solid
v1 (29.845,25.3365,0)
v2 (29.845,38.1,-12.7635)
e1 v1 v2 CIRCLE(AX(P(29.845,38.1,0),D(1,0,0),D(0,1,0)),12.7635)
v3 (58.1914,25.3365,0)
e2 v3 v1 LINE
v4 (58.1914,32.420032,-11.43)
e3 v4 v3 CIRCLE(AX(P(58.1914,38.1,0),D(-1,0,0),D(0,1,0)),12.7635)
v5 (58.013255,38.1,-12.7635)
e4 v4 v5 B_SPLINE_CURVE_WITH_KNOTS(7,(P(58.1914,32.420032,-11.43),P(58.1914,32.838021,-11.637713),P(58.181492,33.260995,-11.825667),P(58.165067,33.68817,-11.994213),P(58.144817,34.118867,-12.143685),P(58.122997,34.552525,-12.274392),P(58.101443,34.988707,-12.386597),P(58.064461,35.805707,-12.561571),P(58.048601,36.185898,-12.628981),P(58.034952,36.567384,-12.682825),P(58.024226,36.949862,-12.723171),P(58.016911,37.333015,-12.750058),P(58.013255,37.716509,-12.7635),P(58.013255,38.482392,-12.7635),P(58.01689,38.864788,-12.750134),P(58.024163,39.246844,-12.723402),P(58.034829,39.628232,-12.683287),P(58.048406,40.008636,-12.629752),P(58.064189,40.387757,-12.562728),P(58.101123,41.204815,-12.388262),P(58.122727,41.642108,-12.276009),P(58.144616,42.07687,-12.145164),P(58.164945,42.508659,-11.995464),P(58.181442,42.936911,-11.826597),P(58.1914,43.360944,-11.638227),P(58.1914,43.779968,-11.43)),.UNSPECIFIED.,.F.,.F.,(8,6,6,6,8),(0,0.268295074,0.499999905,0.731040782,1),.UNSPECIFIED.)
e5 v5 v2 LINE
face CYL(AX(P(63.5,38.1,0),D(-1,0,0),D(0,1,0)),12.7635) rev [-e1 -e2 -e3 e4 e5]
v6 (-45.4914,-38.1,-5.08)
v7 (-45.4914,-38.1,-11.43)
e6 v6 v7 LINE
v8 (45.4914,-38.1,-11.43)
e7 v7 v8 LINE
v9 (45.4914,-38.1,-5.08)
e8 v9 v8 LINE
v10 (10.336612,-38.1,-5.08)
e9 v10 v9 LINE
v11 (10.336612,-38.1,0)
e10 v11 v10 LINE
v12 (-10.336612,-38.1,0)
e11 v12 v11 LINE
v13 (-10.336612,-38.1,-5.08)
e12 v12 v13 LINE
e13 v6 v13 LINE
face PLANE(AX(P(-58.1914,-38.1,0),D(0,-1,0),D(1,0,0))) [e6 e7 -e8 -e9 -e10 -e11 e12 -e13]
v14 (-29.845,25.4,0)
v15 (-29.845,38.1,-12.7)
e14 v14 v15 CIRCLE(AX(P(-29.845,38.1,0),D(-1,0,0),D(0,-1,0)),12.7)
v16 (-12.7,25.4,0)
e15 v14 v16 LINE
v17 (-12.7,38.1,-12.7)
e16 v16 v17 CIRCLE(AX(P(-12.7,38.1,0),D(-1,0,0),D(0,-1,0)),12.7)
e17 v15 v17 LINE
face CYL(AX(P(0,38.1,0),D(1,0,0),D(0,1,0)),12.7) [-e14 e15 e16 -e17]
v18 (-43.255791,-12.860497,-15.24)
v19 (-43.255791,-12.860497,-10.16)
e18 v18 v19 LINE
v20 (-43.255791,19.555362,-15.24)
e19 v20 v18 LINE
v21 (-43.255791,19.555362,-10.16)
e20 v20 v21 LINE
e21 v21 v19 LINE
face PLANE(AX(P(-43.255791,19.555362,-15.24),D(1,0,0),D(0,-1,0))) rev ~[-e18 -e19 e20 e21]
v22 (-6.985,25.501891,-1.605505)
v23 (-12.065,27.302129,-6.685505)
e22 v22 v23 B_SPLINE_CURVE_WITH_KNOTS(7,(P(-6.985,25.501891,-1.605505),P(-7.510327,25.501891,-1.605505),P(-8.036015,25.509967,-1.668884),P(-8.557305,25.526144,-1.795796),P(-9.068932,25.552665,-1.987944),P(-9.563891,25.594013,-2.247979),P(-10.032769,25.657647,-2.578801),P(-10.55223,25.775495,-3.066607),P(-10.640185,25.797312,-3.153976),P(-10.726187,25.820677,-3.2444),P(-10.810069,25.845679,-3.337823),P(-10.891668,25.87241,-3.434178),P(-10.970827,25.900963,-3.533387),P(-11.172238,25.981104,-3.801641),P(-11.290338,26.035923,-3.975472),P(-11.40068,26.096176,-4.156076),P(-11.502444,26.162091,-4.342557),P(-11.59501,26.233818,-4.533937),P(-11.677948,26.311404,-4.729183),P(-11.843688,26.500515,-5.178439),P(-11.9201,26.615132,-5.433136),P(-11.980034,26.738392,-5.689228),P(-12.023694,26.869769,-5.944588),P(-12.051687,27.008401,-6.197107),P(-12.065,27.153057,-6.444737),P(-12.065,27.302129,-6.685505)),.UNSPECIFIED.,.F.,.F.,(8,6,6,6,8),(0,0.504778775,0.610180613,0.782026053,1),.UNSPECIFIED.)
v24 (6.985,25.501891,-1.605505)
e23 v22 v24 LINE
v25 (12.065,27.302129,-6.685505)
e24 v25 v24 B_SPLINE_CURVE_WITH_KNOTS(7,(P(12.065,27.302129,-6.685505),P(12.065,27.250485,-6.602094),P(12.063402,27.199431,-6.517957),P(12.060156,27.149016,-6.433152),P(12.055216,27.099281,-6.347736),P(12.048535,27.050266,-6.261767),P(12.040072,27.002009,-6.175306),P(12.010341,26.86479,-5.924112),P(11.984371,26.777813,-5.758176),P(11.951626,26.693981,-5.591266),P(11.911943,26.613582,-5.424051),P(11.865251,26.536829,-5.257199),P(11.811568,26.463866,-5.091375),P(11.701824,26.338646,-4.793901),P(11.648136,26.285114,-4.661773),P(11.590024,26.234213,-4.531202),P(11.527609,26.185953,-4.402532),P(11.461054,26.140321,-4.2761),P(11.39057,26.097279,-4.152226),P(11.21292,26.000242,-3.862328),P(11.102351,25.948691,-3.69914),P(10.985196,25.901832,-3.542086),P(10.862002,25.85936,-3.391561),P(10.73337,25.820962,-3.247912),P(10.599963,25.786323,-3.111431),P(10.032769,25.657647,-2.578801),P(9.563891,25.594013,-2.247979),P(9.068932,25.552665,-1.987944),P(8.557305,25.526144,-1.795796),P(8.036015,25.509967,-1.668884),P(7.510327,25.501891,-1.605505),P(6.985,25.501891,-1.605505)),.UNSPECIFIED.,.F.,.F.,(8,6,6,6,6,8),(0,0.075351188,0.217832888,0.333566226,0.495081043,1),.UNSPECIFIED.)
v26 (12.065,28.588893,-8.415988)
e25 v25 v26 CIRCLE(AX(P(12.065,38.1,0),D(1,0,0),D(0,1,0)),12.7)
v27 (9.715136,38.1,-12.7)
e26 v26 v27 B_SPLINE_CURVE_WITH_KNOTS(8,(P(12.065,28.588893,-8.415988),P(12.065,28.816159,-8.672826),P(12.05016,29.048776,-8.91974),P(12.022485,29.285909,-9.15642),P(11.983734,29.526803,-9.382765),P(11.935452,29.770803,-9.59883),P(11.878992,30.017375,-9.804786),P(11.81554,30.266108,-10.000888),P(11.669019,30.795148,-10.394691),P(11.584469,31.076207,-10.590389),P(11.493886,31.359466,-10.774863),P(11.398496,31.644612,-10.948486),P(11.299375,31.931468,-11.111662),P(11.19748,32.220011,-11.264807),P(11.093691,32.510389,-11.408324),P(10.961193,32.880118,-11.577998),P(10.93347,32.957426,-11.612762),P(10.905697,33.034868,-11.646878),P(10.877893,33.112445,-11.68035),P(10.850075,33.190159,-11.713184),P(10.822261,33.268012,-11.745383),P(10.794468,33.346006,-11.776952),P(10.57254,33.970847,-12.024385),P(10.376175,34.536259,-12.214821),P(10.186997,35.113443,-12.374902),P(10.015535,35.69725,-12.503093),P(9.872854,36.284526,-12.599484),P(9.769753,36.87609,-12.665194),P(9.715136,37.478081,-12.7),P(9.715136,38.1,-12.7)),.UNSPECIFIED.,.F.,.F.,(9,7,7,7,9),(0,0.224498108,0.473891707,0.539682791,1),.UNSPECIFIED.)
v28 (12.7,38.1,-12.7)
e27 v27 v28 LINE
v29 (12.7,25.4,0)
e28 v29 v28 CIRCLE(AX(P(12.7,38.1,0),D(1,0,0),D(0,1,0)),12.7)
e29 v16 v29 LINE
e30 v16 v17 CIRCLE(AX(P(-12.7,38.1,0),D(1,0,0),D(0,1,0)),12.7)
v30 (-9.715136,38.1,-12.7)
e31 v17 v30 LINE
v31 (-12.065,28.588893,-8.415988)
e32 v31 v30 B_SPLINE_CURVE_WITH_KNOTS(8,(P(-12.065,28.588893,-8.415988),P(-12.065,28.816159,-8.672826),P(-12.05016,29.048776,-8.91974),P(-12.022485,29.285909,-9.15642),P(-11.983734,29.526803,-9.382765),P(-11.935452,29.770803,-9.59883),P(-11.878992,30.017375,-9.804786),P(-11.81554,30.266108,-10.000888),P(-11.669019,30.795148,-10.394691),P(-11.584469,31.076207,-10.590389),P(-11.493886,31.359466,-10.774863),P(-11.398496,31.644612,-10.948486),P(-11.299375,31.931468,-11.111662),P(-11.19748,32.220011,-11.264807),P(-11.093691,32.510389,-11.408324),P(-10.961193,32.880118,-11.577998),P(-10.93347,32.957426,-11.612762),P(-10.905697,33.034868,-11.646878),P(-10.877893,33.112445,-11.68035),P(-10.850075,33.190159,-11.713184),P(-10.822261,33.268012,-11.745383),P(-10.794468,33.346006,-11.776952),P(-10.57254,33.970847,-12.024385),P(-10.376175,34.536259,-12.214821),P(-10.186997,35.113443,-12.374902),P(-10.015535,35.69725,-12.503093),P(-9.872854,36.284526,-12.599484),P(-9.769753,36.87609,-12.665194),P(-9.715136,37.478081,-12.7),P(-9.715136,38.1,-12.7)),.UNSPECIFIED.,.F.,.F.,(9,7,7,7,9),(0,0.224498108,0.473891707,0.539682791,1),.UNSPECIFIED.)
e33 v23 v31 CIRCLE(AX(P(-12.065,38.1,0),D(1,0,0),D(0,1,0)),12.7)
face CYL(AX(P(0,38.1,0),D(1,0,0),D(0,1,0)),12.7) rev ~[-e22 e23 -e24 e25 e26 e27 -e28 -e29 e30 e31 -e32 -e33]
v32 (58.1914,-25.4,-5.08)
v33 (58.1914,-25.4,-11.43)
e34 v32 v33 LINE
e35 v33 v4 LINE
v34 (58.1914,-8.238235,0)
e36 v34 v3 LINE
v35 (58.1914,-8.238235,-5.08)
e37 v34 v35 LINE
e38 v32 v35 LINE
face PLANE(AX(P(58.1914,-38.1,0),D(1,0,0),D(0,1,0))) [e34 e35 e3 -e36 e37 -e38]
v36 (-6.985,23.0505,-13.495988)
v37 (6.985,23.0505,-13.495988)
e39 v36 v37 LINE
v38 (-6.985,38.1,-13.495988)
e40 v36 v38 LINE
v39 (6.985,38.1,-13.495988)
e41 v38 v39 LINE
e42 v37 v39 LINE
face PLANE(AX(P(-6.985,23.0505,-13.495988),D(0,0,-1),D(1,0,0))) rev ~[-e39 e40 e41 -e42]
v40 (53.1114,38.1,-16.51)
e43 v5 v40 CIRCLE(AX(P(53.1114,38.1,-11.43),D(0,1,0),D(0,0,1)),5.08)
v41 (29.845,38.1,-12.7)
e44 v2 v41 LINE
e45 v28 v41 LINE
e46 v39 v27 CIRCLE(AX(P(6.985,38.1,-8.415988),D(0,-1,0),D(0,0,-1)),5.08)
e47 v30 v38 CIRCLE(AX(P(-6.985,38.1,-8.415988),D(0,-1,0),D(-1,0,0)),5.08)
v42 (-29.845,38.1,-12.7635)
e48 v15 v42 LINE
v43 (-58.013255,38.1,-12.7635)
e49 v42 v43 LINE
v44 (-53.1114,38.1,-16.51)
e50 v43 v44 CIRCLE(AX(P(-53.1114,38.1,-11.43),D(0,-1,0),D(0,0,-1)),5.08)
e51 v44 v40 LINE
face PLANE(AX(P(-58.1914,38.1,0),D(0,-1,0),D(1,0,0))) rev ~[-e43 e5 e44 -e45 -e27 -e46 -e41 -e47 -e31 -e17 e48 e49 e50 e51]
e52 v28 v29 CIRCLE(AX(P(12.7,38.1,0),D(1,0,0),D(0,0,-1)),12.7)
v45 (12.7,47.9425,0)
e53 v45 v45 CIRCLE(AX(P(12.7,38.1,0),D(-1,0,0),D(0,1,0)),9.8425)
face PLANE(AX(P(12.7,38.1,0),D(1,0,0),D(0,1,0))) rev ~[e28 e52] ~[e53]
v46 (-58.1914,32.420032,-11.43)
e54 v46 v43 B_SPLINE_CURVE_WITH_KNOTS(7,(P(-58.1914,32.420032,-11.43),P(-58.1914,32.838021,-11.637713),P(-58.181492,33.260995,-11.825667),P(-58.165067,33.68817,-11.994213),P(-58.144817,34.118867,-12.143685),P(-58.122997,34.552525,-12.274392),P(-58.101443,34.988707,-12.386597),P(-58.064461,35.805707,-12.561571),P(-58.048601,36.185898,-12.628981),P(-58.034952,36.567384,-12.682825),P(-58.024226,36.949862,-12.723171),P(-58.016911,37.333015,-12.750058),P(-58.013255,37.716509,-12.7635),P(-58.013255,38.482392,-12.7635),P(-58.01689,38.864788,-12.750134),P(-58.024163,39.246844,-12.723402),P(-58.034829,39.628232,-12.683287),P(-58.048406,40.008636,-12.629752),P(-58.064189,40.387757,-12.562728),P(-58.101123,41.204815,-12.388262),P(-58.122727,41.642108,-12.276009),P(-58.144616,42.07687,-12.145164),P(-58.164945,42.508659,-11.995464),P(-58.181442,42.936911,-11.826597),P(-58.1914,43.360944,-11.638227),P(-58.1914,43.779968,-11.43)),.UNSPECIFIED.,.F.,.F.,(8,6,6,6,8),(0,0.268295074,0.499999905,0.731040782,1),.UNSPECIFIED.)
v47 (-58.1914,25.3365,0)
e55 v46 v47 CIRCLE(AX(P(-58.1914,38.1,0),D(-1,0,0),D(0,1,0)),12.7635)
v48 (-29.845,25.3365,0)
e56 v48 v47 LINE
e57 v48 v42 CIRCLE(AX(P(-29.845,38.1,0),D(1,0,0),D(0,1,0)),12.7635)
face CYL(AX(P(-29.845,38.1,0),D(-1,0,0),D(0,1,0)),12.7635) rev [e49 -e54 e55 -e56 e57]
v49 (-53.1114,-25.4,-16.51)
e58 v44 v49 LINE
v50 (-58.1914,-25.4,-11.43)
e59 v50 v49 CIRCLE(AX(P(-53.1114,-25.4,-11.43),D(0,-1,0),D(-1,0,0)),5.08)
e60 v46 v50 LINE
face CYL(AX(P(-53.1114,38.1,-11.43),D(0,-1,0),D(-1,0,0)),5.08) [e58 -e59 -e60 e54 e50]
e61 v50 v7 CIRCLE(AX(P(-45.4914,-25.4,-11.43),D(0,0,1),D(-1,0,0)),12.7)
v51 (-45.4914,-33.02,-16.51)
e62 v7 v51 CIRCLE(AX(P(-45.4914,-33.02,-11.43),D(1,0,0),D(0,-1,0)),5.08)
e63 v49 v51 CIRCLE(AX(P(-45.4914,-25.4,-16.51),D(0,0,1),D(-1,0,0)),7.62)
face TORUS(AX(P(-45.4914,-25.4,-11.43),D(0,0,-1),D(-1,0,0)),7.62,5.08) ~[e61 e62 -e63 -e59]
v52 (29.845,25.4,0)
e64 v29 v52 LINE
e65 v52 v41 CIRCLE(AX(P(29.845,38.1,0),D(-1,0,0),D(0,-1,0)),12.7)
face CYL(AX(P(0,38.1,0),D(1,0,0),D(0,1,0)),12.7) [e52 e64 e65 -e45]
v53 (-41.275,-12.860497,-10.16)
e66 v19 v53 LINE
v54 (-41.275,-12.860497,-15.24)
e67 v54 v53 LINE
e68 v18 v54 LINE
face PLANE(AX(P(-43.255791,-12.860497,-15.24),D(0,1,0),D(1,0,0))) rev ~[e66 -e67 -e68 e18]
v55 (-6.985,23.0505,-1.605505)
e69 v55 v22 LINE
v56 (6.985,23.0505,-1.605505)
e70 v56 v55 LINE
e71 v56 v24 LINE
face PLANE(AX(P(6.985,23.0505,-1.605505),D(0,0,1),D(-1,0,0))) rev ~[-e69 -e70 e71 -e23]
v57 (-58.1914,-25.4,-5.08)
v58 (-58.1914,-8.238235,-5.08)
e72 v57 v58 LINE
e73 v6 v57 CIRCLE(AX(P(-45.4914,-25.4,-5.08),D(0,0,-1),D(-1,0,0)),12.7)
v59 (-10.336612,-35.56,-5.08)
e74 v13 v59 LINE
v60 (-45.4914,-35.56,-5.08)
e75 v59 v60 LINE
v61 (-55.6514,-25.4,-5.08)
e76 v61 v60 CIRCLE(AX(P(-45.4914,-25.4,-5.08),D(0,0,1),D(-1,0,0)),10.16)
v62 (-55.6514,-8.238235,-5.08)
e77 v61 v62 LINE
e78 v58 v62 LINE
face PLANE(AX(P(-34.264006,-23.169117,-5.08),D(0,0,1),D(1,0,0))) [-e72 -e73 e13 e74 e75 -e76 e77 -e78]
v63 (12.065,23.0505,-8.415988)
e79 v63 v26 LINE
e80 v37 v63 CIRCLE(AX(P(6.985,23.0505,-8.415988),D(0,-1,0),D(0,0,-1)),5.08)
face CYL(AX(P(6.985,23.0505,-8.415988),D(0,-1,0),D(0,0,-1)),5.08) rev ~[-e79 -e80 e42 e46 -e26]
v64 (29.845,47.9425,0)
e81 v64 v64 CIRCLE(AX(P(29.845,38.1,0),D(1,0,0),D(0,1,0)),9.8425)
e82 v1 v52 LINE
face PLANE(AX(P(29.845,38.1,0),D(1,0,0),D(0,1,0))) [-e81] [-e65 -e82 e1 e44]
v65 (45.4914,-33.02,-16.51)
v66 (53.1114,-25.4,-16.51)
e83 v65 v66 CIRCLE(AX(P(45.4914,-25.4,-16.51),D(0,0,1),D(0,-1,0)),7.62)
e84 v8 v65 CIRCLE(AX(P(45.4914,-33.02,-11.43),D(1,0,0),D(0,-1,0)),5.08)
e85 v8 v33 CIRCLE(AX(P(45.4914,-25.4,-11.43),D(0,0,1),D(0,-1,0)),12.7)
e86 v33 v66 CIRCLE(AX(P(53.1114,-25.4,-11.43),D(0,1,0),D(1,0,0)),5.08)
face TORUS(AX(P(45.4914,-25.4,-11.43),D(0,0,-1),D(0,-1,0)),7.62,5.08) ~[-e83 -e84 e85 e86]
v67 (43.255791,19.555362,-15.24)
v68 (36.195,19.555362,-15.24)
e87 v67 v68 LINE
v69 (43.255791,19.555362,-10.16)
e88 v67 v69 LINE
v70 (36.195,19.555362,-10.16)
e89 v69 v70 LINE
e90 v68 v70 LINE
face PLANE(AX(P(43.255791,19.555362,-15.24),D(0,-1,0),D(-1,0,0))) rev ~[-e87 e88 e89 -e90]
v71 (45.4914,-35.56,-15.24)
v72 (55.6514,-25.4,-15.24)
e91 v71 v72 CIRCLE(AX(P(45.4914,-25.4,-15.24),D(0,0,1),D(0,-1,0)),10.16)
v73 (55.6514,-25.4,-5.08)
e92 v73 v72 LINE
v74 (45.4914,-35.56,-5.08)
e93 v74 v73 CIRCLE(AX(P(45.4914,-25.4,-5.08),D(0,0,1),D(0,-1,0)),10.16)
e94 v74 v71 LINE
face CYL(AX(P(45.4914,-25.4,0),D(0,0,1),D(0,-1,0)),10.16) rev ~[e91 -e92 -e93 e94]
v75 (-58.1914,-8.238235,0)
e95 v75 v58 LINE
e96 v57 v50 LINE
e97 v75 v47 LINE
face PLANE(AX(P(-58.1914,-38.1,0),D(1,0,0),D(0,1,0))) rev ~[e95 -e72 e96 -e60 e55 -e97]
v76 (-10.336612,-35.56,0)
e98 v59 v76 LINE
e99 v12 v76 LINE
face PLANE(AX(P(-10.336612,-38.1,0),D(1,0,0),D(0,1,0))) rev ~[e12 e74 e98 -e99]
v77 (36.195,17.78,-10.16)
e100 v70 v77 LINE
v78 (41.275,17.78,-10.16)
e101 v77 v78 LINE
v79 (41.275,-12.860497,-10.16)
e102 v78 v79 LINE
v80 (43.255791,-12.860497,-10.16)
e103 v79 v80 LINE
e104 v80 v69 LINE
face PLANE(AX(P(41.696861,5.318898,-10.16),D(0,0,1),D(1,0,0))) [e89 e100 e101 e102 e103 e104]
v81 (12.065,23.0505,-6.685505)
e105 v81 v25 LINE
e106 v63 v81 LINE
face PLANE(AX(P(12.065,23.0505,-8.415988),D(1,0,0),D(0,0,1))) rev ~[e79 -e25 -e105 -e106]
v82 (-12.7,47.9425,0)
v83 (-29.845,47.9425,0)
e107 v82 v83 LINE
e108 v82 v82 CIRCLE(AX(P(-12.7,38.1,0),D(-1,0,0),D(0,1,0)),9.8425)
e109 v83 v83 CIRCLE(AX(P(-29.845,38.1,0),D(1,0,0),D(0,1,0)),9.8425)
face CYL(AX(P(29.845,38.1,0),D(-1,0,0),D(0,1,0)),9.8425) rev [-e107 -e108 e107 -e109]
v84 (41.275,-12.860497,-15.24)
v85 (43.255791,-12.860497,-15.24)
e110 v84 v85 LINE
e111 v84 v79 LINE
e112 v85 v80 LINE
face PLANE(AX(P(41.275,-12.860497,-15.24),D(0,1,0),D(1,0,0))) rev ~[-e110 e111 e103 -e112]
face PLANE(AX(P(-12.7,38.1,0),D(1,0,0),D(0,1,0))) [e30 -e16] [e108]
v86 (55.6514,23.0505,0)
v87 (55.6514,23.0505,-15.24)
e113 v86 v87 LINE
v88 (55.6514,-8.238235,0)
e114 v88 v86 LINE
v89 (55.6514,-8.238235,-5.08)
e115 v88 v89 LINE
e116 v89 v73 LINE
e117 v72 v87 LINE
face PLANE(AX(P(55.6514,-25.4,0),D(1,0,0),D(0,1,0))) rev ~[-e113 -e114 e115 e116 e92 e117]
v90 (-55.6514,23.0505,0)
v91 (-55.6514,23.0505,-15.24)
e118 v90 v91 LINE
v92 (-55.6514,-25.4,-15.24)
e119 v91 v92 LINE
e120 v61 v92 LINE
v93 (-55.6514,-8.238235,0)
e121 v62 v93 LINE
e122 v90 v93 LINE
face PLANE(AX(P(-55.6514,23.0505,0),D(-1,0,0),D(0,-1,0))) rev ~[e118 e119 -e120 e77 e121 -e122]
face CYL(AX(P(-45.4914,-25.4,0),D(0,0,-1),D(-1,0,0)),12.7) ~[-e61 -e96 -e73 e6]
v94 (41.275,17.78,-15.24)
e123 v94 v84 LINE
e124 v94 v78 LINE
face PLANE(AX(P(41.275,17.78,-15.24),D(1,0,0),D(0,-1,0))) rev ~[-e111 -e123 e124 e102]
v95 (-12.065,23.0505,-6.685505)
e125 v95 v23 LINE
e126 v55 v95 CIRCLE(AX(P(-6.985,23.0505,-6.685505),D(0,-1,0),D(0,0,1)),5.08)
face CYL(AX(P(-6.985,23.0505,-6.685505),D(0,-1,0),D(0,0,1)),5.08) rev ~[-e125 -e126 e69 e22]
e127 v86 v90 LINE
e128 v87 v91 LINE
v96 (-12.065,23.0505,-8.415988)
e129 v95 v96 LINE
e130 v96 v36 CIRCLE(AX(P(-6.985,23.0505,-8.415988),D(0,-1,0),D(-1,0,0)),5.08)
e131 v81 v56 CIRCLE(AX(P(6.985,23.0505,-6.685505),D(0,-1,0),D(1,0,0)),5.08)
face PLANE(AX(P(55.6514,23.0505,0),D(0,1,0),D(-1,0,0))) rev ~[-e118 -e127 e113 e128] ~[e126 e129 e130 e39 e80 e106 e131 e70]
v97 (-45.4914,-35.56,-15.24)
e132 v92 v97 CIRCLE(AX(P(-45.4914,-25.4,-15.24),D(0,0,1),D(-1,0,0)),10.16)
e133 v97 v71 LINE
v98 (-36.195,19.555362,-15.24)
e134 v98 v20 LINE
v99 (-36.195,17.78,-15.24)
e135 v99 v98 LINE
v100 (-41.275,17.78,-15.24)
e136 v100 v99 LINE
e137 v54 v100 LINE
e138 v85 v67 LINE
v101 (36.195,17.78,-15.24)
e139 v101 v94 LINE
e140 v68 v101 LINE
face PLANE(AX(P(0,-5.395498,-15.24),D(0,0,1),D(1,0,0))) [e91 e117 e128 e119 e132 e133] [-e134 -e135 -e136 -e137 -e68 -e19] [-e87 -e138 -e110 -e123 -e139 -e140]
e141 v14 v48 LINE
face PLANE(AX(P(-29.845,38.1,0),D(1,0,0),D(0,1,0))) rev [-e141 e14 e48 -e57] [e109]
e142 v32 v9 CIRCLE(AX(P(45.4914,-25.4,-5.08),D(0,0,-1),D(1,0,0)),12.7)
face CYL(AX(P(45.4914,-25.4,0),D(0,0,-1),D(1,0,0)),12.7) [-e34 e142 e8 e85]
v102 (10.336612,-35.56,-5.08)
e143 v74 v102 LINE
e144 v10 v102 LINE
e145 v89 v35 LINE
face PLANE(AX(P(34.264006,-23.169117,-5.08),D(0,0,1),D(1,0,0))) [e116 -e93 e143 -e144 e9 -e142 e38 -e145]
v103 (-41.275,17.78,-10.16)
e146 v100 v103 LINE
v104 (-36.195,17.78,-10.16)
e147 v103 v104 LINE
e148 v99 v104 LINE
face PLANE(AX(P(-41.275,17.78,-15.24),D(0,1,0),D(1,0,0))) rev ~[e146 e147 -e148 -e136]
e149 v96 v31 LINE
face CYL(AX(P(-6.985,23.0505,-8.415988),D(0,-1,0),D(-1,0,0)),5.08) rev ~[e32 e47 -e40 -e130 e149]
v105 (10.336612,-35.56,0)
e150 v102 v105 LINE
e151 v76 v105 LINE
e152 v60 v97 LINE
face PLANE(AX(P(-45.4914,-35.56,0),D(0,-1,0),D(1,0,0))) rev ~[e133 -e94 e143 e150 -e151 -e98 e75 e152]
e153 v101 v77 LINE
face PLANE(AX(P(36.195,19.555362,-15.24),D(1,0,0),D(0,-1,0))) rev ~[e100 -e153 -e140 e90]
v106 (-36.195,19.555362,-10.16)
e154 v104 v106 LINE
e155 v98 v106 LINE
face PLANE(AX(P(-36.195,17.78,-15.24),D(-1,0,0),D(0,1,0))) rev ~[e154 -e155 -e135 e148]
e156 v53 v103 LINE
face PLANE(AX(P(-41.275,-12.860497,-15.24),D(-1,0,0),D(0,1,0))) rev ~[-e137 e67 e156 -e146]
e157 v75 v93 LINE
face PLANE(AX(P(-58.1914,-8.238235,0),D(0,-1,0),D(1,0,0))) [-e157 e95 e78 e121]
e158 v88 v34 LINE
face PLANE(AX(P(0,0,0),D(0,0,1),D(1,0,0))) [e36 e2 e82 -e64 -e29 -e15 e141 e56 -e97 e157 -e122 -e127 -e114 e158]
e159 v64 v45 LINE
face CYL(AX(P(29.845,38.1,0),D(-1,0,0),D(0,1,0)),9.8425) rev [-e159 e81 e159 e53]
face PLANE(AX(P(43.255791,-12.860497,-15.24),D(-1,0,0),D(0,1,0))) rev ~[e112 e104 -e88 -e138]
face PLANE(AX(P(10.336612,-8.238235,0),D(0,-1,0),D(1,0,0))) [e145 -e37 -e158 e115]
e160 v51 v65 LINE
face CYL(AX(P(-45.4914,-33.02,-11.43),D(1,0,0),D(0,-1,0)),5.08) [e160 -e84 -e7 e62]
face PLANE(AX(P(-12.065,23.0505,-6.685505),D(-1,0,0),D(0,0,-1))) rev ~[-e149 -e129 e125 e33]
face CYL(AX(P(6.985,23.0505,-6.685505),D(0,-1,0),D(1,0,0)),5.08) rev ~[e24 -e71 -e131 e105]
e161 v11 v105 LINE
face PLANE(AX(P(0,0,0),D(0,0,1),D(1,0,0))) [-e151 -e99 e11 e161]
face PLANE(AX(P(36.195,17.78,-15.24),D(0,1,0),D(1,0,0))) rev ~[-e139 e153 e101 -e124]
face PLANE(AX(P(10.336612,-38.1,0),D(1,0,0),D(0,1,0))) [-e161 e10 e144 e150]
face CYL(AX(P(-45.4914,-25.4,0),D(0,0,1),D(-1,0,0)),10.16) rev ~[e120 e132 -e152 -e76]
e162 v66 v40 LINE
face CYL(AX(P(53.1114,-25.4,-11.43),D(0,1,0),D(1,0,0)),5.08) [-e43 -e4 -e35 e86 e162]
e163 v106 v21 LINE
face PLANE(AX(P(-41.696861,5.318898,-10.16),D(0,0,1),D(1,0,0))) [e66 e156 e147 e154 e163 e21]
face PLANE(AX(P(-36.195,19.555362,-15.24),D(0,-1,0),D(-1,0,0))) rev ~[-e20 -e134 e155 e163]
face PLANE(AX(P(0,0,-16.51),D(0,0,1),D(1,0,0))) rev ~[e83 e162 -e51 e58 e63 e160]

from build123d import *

# Parameters (mm, degrees)
F0_W      = 116.3828
F0_H      = 76.2
F1_DEPTH  = 16.51
F2_R      = 12.7
F3_DEPTH  = 63.5
F4_R      = 12.7
F7_R      = 5.08
F9_DEPTH  = 15.24
F10_R     = 12.7
F11_DEPTH = 12.7
F13_DEPTH = 25.4
F15_DEPTH = 5.08
F16_W     = 47.8547876488
F16_H     = 29.861765301
F17_DEPTH = 5.08


with BuildPart() as f1:
    # F0 (on Top) → F1 (new body)
    with BuildSketch(Plane.XY):
        Rectangle(F0_W, F0_H)
    extrude(amount=-F1_DEPTH)

    # F2 (on Right) → F3 (join, symmetric)
    with BuildSketch(Plane.YZ):
        with Locations((38.1, 0)):
            Circle(F2_R)
    extrude(amount=F3_DEPTH, both=True)

    # F4
    f4_edges = [f1.edges().sort_by_distance(p)[0] for p in [
        (-58.1914, -38.1, -8.255),
        (58.1914, -38.1, -8.255),
    ]]
    fillet(f4_edges, radius=F4_R)

    # F5 (on Top) → F6 (revolve, cut)
    with BuildSketch(Plane.XY):
        Polygon((-63.5, 50.8635), (-63.5, 38.1), (0, 38.1), (63.5, 38.1), (63.5, 50.8635), (29.845, 50.8635), (29.845, 47.9425), (0, 47.9425), (-29.845, 47.9425), (-29.845, 50.8635), align=None)
    revolve(axis=Axis((31.75, 38.1, 0), (1, 0, 0)), mode=Mode.SUBTRACT)

    # F7
    f7_edges = [f1.edges().sort_by_distance(p)[0] for p in [
        (58.1914, 6.35, -16.51),
    ]]
    fillet(f7_edges, radius=F7_R)

    # F8 (on face) → F9 (cut)
    with BuildSketch(Plane.XY):
        with BuildLine():
            Line((55.6514, -23.0505), (55.6514, 23.0505))
            Line((55.6514, 23.0505), (-55.6514, 23.0505))
            Line((-55.6514, 23.0505), (-55.6514, -23.0505))
            Line((-55.6514, -23.0505), (-55.6514, -25.4))
            ThreePointArc((-55.6514, -25.4), (-52.6756048969, -32.5842048969), (-45.4914, -35.56))
            Line((-45.4914, -35.56), (45.4914, -35.56))
            ThreePointArc((45.4914, -35.56), (52.6756048969, -32.5842048969), (55.6514, -25.4))
            Line((55.6514, -25.4), (55.6514, -23.0505))
        make_face()
    extrude(amount=-F9_DEPTH, mode=Mode.SUBTRACT)

    # F10 (on Right) → F11 (cut, symmetric)
    with BuildSketch(Plane.YZ):
        with Locations((38.1, 0)):
            Circle(F10_R)
    extrude(amount=F11_DEPTH, both=True, mode=Mode.SUBTRACT)

    # F12 (on face) → F13 (cut)
    with BuildSketch(Plane.XZ.offset(-23.0505)):
        with BuildLine():
            Line((6.985, -1.605504806), (-6.985, -1.605504806))
            ThreePointArc((-6.985, -1.605504806), (-10.5771024484, -3.0934023576), (-12.065, -6.685504806))
            Line((-12.065, -6.685504806), (-12.065, -8.4159879088))
            ThreePointArc((-12.065, -8.4159879088), (-10.5771024484, -12.0080903572), (-6.985, -13.4959879088))
            Line((-6.985, -13.4959879088), (6.985, -13.4959879088))
            ThreePointArc((6.985, -13.4959879088), (10.5771024484, -12.0080903572), (12.065, -8.4159879088))
            Line((12.065, -8.4159879088), (12.065, -6.685504806))
            ThreePointArc((12.065, -6.685504806), (10.5771024484, -3.0934023576), (6.985, -1.605504806))
        make_face()
    extrude(amount=-F13_DEPTH, mode=Mode.SUBTRACT)

    # F14 (on face) → F15 (join)
    with BuildSketch(Plane.XY.offset(-15.24)):
        Polygon((-41.275, -12.8604971486), (-41.275, 17.78), (-36.195, 17.78), (-36.195, 19.5553619415), (-43.2557910681, 19.5553619415), (-43.2557910681, -12.8604971486), align=None)
        Polygon((36.195, 19.5553619415), (36.195, 17.78), (41.275, 17.78), (41.275, -12.8604971486), (43.2557910681, -12.8604971486), (43.2557910681, 19.5553619415), align=None)
    extrude(amount=F15_DEPTH)

    # F16 (on face) → F17 (cut)
    with BuildSketch(Plane.XY):
        with Locations((-34.2640061756, -23.1691173495)):
            Rectangle(F16_W, F16_H)
        with Locations((34.2640061756, -23.1691173495)):
            Rectangle(F16_W, F16_H)
    extrude(amount=-F17_DEPTH, mode=Mode.SUBTRACT)


solid = f1.part
